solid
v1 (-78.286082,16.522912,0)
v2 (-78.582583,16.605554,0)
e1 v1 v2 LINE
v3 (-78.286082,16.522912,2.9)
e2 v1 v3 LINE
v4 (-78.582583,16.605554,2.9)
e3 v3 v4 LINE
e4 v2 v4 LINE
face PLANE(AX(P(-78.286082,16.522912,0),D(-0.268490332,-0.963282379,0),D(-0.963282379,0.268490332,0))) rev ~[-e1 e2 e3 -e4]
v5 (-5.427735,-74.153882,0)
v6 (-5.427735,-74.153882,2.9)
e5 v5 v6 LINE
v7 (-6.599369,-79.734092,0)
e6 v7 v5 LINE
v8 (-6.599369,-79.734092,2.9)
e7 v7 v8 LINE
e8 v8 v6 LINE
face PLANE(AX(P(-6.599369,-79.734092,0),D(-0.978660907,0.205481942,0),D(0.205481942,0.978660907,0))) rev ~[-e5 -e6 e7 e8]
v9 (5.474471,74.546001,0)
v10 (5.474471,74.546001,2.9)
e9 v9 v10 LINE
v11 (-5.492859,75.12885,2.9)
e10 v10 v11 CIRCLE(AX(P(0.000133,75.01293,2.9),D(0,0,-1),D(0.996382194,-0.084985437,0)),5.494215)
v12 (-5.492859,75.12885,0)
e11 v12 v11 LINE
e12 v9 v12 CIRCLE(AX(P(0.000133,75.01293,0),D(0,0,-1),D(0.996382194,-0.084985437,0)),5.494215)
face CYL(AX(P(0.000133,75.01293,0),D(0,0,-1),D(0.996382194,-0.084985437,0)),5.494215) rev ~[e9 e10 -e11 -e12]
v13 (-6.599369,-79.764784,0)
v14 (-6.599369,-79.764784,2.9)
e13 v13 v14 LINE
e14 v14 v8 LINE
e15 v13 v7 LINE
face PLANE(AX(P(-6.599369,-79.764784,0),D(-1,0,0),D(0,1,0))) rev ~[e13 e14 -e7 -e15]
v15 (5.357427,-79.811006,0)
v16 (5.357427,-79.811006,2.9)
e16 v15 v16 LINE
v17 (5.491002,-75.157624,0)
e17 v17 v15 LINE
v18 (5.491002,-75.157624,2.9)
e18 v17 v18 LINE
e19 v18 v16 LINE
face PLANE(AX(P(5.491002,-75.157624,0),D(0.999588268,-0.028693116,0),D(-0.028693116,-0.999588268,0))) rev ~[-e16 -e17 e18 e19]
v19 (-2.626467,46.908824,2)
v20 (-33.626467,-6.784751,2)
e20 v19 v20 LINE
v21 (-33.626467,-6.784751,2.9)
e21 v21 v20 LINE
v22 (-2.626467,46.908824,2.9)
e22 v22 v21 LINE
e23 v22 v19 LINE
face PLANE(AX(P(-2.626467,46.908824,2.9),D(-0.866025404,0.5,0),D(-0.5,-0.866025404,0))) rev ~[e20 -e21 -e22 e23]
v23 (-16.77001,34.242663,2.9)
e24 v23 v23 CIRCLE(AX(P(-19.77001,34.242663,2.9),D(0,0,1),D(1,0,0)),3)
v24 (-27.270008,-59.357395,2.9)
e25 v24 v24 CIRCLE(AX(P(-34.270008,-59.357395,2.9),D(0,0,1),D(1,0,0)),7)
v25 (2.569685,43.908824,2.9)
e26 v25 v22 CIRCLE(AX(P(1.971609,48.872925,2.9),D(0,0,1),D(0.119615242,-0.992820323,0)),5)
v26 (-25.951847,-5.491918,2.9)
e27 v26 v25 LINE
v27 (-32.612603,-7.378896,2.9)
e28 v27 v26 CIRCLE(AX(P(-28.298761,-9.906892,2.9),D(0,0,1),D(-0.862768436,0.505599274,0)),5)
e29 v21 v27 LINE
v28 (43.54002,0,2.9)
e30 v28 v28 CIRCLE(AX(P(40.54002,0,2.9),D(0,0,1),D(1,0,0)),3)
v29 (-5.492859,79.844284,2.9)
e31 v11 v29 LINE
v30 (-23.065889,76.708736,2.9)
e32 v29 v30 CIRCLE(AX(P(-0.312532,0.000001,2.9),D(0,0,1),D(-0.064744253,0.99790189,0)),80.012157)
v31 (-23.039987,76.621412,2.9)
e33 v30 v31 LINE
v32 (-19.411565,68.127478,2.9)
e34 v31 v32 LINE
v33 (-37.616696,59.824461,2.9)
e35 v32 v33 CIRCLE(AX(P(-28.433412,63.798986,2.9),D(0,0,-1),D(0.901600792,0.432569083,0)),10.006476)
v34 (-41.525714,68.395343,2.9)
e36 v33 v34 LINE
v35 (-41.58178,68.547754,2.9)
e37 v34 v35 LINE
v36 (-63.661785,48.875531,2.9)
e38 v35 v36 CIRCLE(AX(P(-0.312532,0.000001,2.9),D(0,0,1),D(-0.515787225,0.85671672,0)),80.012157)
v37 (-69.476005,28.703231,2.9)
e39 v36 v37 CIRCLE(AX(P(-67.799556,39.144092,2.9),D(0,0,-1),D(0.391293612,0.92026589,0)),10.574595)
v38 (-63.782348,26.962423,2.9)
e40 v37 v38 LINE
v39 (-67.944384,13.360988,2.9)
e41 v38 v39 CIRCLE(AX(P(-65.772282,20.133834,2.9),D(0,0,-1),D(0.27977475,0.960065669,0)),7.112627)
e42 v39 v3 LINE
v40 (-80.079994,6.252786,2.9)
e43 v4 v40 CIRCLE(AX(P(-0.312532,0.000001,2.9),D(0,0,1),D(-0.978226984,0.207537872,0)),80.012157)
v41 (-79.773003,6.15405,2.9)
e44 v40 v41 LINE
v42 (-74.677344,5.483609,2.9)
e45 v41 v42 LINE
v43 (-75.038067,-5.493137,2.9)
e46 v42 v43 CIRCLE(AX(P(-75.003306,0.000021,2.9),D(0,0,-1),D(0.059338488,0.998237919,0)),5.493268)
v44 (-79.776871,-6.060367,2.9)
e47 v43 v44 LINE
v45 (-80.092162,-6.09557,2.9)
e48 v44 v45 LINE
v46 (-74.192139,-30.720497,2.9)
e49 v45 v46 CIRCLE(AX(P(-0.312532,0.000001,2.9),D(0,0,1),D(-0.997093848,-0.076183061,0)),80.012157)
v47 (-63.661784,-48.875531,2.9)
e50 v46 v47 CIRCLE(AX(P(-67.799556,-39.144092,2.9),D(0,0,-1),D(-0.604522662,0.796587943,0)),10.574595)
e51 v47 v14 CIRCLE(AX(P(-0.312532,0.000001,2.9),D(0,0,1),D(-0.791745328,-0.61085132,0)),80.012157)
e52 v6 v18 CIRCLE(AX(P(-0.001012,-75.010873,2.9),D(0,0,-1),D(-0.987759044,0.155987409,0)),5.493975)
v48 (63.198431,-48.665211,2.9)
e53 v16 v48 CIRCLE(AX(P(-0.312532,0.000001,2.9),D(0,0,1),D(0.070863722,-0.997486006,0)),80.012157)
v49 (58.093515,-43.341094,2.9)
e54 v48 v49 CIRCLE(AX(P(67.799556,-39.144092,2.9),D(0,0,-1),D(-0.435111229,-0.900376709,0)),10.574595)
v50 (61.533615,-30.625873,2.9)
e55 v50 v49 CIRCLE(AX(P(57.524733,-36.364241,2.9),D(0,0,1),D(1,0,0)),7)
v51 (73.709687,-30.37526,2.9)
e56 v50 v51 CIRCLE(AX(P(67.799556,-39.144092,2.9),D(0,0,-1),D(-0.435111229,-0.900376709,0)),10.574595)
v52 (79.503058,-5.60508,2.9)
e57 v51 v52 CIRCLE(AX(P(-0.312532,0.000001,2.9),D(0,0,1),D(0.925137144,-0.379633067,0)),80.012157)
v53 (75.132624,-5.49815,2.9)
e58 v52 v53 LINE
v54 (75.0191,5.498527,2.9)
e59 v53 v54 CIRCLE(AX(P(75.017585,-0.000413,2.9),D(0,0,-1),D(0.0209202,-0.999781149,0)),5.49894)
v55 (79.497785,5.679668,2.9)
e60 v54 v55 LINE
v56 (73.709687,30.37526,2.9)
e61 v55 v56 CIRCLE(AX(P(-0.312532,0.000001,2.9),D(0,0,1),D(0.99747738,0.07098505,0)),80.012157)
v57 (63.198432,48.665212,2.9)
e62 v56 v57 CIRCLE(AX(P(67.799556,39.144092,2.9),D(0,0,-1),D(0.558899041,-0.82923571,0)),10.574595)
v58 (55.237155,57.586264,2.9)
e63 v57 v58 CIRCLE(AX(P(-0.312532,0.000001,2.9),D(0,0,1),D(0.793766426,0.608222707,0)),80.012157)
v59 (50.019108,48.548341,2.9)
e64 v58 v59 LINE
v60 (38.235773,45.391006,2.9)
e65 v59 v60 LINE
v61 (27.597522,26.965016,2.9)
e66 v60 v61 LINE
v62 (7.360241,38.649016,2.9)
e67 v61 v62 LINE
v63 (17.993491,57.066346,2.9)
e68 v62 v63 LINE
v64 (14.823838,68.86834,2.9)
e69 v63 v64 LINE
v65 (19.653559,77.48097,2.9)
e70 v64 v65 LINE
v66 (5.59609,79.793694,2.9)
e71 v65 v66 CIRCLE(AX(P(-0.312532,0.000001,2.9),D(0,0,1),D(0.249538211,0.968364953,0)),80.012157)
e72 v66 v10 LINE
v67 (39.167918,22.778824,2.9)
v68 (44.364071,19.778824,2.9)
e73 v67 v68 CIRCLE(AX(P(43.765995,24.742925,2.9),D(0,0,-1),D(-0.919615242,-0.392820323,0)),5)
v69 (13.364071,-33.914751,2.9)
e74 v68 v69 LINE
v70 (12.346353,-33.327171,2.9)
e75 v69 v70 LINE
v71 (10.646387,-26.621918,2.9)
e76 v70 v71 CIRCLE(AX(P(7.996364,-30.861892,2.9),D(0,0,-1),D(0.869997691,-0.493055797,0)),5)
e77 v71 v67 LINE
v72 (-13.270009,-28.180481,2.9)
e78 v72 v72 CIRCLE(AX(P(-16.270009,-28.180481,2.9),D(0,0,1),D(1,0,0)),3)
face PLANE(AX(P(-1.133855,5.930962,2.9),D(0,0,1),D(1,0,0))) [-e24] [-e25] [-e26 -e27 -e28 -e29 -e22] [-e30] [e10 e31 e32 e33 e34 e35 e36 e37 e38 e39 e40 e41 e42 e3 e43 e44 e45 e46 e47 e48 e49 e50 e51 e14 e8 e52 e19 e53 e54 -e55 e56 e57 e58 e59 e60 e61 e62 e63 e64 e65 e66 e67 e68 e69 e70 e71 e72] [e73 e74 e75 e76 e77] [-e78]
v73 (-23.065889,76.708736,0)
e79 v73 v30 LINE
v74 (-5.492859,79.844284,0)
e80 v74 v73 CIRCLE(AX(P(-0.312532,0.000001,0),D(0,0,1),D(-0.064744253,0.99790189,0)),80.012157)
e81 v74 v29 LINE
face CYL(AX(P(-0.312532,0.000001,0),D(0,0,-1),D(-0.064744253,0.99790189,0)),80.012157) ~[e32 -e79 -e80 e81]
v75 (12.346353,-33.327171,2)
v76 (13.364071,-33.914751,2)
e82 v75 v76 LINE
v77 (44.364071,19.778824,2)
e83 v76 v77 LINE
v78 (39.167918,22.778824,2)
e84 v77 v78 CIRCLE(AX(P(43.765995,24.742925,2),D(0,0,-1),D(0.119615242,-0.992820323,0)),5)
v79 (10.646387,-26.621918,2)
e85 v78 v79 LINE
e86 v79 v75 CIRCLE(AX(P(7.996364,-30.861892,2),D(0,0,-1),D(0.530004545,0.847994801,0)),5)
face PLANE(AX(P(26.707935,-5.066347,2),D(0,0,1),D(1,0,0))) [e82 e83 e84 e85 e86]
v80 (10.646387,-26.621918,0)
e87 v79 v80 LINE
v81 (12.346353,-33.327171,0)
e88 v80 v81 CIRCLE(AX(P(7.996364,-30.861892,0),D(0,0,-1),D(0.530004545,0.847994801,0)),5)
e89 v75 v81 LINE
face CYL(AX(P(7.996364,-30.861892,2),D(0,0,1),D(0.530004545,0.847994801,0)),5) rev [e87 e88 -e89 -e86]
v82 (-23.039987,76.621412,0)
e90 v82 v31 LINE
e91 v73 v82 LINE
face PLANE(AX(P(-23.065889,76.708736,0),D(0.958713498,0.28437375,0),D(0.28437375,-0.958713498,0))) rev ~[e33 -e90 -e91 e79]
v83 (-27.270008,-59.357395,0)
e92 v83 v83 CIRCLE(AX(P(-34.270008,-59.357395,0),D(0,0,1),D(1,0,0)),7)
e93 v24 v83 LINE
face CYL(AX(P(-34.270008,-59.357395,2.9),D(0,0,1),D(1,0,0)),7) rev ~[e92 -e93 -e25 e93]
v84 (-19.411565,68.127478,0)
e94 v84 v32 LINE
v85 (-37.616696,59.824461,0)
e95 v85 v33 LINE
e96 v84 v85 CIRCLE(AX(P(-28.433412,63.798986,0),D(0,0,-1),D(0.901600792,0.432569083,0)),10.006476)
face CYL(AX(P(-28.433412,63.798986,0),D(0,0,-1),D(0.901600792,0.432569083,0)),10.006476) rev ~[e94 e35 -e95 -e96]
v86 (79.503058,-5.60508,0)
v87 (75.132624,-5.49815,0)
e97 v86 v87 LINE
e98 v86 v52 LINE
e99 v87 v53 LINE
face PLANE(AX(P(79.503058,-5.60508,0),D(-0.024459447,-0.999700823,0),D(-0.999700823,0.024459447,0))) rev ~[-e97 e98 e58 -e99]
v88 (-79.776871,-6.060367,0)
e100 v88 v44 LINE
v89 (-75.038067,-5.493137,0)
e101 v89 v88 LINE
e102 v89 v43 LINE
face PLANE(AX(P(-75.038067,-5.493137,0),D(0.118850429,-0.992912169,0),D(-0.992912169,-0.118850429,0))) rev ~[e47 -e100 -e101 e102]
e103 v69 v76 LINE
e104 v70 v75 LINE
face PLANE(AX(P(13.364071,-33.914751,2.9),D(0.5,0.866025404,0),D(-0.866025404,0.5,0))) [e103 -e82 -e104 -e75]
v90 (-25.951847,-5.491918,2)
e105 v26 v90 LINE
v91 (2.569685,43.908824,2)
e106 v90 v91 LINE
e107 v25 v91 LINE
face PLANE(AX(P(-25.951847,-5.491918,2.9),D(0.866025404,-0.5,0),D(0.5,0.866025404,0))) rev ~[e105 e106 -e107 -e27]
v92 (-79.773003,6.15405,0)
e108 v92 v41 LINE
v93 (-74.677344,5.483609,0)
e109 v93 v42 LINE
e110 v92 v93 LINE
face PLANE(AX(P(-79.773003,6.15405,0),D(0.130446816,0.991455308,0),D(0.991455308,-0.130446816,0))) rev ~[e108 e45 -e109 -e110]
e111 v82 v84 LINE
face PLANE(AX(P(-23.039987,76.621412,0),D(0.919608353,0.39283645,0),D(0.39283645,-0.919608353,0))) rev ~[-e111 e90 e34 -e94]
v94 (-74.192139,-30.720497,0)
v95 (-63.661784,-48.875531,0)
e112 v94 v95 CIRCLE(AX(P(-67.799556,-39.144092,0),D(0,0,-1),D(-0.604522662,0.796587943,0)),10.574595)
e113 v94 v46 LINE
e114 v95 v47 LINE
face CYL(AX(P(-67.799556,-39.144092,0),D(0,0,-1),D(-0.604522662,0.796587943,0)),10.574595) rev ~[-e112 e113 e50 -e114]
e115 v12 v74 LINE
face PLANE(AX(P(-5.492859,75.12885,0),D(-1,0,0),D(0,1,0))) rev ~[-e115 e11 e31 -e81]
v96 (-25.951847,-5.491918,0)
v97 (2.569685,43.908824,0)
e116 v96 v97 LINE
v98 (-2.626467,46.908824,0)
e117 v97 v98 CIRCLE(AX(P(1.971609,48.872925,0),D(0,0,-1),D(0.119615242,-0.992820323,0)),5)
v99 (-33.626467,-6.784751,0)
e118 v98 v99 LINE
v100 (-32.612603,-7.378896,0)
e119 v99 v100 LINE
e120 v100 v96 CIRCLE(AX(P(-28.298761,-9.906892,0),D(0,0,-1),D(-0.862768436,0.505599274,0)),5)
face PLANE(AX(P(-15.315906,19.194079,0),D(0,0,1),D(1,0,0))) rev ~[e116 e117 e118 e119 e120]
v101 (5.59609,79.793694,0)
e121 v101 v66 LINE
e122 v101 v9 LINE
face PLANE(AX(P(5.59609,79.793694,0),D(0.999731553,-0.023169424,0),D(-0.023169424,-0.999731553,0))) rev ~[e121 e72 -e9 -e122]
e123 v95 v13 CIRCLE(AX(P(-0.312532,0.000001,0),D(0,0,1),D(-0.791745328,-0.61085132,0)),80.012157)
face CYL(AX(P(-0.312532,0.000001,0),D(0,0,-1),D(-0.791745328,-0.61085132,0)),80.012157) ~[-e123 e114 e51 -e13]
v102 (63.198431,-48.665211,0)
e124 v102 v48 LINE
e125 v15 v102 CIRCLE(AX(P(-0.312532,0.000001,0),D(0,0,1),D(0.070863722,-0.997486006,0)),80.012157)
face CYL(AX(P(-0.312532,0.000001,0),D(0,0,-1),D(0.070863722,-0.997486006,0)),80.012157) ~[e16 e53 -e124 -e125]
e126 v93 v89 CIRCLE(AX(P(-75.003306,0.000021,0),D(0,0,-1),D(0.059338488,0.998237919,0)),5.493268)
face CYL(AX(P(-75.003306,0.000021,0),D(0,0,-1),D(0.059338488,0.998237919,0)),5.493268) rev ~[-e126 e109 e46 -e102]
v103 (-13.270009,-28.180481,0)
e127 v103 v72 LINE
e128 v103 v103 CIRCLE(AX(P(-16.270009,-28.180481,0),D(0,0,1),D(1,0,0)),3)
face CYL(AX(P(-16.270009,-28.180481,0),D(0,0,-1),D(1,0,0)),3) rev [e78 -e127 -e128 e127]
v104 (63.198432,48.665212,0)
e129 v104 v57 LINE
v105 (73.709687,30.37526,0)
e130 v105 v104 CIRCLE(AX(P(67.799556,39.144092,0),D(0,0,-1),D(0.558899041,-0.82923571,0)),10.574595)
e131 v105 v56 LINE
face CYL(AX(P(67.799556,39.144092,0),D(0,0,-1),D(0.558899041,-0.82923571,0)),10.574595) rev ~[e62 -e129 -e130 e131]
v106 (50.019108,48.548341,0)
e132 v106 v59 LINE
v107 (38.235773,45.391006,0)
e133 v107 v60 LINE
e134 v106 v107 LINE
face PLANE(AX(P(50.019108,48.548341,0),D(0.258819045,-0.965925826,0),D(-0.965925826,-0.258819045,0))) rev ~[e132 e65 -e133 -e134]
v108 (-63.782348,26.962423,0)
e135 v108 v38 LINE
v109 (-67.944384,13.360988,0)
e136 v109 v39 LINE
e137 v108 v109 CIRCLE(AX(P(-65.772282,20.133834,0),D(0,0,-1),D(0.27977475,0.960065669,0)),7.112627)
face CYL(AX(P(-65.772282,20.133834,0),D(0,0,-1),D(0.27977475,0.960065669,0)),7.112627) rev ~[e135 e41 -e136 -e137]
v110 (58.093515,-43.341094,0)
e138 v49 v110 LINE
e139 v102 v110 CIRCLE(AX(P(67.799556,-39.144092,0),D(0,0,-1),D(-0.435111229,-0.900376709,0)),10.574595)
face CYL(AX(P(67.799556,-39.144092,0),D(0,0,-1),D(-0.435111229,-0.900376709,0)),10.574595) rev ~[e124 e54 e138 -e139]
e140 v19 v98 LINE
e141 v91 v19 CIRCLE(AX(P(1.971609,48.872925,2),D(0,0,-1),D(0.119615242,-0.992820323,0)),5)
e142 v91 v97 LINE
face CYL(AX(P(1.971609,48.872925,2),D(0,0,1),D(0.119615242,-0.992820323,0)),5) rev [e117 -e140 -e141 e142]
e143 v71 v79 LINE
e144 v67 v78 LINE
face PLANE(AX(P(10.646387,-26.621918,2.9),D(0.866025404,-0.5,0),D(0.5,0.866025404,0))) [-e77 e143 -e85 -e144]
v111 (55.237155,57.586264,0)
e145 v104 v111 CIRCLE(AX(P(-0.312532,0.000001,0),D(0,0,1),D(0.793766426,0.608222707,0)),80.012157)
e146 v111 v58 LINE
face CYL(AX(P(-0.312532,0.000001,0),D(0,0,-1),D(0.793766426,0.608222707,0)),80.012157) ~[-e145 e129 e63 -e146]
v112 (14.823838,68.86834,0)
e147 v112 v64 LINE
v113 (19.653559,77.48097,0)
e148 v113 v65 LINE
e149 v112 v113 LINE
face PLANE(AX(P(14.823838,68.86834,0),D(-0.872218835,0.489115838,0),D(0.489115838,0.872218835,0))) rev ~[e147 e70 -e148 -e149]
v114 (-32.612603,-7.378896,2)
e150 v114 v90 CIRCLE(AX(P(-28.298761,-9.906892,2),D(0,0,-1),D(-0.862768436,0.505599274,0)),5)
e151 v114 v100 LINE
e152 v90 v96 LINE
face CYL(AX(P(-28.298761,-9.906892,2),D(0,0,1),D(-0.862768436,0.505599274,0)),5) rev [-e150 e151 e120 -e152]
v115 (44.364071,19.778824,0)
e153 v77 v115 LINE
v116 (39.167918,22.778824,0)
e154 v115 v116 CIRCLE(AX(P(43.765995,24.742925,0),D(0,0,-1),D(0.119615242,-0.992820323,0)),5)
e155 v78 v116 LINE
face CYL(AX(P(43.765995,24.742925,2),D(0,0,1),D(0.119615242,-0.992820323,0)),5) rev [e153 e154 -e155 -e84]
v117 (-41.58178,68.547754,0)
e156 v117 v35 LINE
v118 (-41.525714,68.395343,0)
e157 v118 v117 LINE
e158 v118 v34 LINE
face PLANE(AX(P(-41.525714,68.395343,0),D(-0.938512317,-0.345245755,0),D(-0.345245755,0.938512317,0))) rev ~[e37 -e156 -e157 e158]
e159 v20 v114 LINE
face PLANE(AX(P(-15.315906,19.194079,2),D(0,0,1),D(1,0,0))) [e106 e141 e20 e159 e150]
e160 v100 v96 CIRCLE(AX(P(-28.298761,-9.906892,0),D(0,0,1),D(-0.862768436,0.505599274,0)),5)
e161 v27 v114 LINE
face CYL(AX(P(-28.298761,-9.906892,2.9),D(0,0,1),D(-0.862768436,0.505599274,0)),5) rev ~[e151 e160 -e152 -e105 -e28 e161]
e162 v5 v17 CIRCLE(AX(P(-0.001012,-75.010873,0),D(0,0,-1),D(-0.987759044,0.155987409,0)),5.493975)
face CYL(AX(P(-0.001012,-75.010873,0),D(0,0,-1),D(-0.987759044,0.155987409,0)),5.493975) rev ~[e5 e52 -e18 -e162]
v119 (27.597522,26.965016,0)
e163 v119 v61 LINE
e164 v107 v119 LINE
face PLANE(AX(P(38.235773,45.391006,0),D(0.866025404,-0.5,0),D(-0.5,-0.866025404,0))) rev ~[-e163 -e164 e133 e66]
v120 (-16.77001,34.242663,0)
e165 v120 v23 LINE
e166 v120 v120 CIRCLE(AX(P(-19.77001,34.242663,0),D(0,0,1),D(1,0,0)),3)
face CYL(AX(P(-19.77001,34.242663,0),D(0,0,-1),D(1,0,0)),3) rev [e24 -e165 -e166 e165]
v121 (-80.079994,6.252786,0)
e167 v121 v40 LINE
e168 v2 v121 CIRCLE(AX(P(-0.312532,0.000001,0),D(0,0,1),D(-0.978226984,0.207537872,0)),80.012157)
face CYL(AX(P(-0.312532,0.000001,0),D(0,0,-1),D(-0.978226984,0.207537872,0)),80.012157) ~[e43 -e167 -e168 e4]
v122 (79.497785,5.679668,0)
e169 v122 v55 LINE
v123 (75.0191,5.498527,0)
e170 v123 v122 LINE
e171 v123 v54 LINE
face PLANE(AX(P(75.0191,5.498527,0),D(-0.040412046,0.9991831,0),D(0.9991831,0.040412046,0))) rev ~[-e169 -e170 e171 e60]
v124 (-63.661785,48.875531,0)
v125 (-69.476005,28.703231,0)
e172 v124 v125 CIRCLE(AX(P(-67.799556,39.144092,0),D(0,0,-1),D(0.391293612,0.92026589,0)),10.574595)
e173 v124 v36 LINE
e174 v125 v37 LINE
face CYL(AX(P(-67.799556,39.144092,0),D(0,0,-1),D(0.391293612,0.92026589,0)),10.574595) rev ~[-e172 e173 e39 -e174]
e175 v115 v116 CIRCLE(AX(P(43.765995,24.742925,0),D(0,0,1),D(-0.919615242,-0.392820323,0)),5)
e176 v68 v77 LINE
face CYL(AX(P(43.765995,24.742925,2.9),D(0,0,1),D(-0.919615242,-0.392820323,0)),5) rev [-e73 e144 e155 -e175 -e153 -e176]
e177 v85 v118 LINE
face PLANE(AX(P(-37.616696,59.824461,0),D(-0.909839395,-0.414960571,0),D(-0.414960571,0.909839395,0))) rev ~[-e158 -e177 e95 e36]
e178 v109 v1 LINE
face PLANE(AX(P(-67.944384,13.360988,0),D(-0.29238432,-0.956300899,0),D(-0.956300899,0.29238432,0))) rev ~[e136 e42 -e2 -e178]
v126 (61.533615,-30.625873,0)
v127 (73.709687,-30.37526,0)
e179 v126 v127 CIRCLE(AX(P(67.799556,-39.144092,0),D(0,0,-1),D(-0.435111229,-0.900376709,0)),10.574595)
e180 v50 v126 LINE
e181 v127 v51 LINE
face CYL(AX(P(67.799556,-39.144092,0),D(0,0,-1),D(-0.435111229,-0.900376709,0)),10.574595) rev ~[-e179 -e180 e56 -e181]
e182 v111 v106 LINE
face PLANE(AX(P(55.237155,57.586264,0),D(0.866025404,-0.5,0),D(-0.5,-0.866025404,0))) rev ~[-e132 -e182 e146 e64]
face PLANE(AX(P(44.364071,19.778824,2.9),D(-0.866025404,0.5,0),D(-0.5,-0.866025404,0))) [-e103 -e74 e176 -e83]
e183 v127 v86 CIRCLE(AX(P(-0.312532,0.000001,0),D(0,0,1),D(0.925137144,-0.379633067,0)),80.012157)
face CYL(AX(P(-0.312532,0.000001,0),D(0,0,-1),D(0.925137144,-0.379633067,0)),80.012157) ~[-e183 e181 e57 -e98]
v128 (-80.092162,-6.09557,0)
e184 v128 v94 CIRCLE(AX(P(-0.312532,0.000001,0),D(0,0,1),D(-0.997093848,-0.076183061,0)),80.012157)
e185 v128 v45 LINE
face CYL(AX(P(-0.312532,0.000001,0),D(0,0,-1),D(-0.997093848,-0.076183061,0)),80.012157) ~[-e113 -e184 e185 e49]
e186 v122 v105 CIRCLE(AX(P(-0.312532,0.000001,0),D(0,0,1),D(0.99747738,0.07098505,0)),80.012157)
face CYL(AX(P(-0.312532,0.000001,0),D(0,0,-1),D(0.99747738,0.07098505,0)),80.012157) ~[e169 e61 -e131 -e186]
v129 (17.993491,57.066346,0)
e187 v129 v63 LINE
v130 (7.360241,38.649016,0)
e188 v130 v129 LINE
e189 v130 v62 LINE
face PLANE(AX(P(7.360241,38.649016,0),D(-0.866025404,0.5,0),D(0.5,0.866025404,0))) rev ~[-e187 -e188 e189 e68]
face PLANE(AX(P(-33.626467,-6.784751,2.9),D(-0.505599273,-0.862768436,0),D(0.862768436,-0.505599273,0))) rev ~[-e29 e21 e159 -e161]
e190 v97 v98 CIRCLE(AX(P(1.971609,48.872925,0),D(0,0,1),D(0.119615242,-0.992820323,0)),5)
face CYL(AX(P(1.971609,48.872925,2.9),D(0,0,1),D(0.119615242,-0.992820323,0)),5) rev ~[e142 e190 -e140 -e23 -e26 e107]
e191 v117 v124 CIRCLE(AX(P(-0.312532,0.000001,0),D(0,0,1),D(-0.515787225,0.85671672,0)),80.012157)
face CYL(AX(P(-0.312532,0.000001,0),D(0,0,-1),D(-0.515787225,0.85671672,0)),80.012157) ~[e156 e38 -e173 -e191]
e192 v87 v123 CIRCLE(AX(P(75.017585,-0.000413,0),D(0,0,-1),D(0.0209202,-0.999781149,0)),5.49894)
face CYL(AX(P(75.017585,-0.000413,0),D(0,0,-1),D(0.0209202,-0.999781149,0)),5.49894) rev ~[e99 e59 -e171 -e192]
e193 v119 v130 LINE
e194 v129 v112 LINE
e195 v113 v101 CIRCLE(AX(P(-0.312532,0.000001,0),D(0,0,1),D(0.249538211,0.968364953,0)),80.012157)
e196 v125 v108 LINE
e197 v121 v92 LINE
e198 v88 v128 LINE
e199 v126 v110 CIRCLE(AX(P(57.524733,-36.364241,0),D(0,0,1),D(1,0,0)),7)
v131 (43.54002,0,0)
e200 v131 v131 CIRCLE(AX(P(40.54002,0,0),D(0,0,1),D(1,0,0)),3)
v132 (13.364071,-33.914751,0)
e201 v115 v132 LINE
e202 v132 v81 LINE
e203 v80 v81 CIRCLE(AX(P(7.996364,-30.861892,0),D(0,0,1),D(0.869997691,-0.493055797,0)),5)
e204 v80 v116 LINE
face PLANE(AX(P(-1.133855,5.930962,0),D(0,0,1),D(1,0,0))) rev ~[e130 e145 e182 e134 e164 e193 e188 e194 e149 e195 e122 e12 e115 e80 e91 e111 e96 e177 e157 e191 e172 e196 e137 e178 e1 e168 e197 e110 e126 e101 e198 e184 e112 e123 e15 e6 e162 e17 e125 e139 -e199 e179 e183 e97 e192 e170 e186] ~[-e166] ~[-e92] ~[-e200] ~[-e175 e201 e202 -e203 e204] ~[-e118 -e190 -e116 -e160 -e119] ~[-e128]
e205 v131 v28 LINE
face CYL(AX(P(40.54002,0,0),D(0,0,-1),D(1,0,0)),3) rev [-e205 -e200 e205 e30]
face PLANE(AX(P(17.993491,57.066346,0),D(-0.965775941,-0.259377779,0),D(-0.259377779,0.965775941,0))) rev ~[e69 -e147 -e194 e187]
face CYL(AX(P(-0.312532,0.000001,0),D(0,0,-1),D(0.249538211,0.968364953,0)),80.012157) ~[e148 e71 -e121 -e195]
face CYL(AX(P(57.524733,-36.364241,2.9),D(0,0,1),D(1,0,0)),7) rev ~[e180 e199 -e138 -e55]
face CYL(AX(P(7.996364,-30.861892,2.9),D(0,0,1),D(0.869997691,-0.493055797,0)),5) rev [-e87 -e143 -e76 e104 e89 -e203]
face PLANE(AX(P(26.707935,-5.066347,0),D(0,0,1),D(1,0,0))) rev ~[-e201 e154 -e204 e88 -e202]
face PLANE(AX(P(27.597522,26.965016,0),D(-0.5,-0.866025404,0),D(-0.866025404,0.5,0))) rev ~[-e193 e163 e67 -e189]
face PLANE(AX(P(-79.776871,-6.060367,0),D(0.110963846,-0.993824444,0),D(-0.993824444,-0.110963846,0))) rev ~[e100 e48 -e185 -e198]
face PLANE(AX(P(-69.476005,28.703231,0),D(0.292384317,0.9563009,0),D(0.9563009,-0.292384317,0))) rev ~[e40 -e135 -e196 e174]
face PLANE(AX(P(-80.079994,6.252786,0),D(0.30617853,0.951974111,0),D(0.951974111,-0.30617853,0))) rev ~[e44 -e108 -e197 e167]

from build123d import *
from build123d.topology import SkipClean

# Parameters (mm, degrees)
SZKIC1_R                    = 3
DODANIE_WYCI_GNI_CIE1_DEPTH = 2.9
CUT_EXTRUDE1_DEPTH          = 114.129457027
BOSS_EXTRUDE1_START         = -2
BOSS_EXTRUDE1_DEPTH         = 2
SKETCH4_R                   = 7
CUT_EXTRUDE2_DEPTH          = 114.129457027


with BuildPart() as part:
    # Szkic1 → Dodanie-wyciągnięcie1 (new body)
    with BuildSketch(Plane.XY):
        with BuildLine():
            Line((5.59608992, 79.7936944), (5.474471245, 74.546001301))
            ThreePointArc((5.474471245, 74.546001301), (-0.291440696, 69.526456585), (-5.49285922, 75.12885027))
            Line((-5.49285922, 75.12885027), (-5.49285922, 79.844283988))
            ThreePointArc((-5.49285922, 79.844283988), (-14.367089706, 78.768108258), (-23.065888919, 76.708736224))
            Line((-23.065888919, 76.708736224), (-23.039986666, 76.621411569))
            Line((-23.039986666, 76.621411569), (-19.411565048, 68.127477703))
            ThreePointArc((-19.411565048, 68.127477703), (-24.281118736, 54.694699487), (-37.616696357, 59.824461002))
            Line((-37.616696357, 59.824461002), (-41.525713683, 68.39534268))
            Line((-41.525713683, 68.39534268), (-41.581780451, 68.547753974))
            ThreePointArc((-41.581780451, 68.547753974), (-53.538529253, 59.740594559), (-63.661784759, 48.875531428))
            ThreePointArc((-63.661784759, 48.875531428), (-57.63860389, 36.215421703), (-69.476005411, 28.703230861))
            Line((-69.476005411, 28.703230861), (-63.782348494, 26.96242314))
            ThreePointArc((-63.782348494, 26.96242314), (-58.970954639, 18.052629351), (-67.944384326, 13.360988291))
            Line((-67.944384326, 13.360988291), (-78.286081853, 16.522911699))
            Line((-78.286081853, 16.522911699), (-78.582583175, 16.605553861))
            ThreePointArc((-78.582583175, 16.605553861), (-79.500655067, 11.453666872), (-80.079993893, 6.252785978))
            Line((-80.079993893, 6.252785978), (-79.77300326, 6.154050162))
            Line((-79.77300326, 6.154050162), (-74.677344042, 5.483608926))
            ThreePointArc((-74.677344042, 5.483608926), (-69.513002092, -0.180404237), (-75.038066691, -5.493137439))
            Line((-75.038066691, -5.493137439), (-79.77687053, -6.060366735))
            Line((-79.77687053, -6.060366735), (-80.092161675, -6.095570053))
            ThreePointArc((-80.092161675, -6.095570053), (-78.122473499, -18.642914619), (-74.192138812, -30.72049701))
            ThreePointArc((-74.192138812, -30.72049701), (-58.652296854, -33.838462178), (-63.661783627, -48.875530946))
            ThreePointArc((-63.661783627, -48.875530946), (-38.402330015, -70.364141863), (-6.599369234, -79.764784472))
            Line((-6.599369234, -79.764784472), (-6.599369234, -79.734091682))
            Line((-6.599369234, -79.734091682), (-5.427735296, -74.153881943))
            ThreePointArc((-5.427735296, -74.153881943), (0.501919726, -69.539966289), (5.491002421, -75.157624183))
            Line((5.491002421, -75.157624183), (5.357427391, -79.811006311))
            ThreePointArc((5.357427391, -79.811006311), (37.621821152, -70.448066311), (63.198431202, -48.665211389))
            ThreePointArc((63.198431202, -48.665211389), (58.631189133, -33.87502124), (73.70968686, -30.375259673))
            ThreePointArc((73.70968686, -30.375259673), (77.597084263, -18.221882556), (79.503058016, -5.605080347))
            Line((79.503058016, -5.605080347), (75.132623878, -5.498149954))
            ThreePointArc((75.132623878, -5.498149954), (69.518937549, -0.057178034), (75.019100209, 5.498527174))
            Line((75.019100209, 5.498527174), (79.497785184, 5.679667972))
            ThreePointArc((79.497785184, 5.679667972), (77.588561718, 18.258285206), (73.709687487, 30.375260095))
            ThreePointArc((73.709687487, 30.375260095), (58.631189019, 33.875021437), (63.198432292, 48.665211915))
            ThreePointArc((63.198432292, 48.665211915), (59.384670175, 53.274660922), (55.237154752, 57.586263576))
            Line((55.237154752, 57.586263576), (50.019107731, 48.548341019))
            Line((50.019107731, 48.548341019), (38.235772571, 45.391005879))
            Line((38.235772571, 45.391005879), (27.597522321, 26.965015942))
            Line((27.597522321, 26.965015942), (7.360240685, 38.649015942))
            Line((7.360240685, 38.649015942), (17.993490945, 57.066345642))
            Line((17.993490945, 57.066345642), (14.823837521, 68.868339749))
            Line((14.823837521, 68.868339749), (19.653558746, 77.480969916))
            ThreePointArc((19.653558746, 77.480969916), (12.67640031, 78.950827209), (5.59608992, 79.7936944))
        make_face()
        with Locations((-16.270008662, -28.180480518)):
            Circle(SZKIC1_R, mode=Mode.SUBTRACT)
        with Locations((40.540020027, 1.11e-07)):
            Circle(SZKIC1_R, mode=Mode.SUBTRACT)
        with Locations((-19.770010135, 34.242663145)):
            Circle(SZKIC1_R, mode=Mode.SUBTRACT)
    extrude(amount=DODANIE_WYCI_GNI_CIE1_DEPTH)

    # Sketch2 → Cut-Extrude1 (cut, through all)
    with BuildSketch(Plane.XY.offset(2.9)):
        with BuildLine():
            Line((44.364070916, 19.778823857), (13.364070916, -33.914751178))
            Line((13.364070916, -33.914751178), (12.3463525, -33.327171176))
            ThreePointArc((12.3463525, -33.327171176), (3.149700914, -32.090654364), (10.646386774, -26.62191819))
            Line((10.646386774, -26.62191819), (39.167918493, 22.778823857))
            ThreePointArc((39.167918493, 22.778823857), (46.265994705, 29.073052491), (44.364070916, 19.778823857))
        make_face()
        with BuildLine():
            Line((-33.626467493, -6.784751178), (-32.612602806, -7.378895826))
            ThreePointArc((-32.612602806, -7.378895826), (-26.935905927, -14.717570636), (-25.95184679, -5.49191819))
            Line((-25.95184679, -5.49191819), (2.569684929, 43.908823857))
            ThreePointArc((2.569684929, 43.908823857), (4.471608718, 53.203052491), (-2.626467493, 46.908823857))
            Line((-2.626467493, 46.908823857), (-33.626467493, -6.784751178))
        make_face()
    extrude(amount=-CUT_EXTRUDE1_DEPTH, mode=Mode.SUBTRACT)

    # Sketch3 → Boss-Extrude1 (add)
    with SkipClean():  # the faces are left unmerged after this step: merging them gives an invalid solid
        with BuildSketch(Plane(origin=(0, 0, 0), x_dir=(-1, 0, 0), z_dir=(0, 0, -1)).offset(BOSS_EXTRUDE1_START)):
            with BuildLine():
                Line((2.626467493, 46.908823857), (33.626467493, -6.784751178))
                Line((33.626467493, -6.784751178), (32.612602806, -7.378895826))
                ThreePointArc((32.612602806, -7.378895826), (29.661615324, -5.096213752), (25.95184679, -5.49191819))
                Line((25.95184679, -5.49191819), (-2.569684929, 43.908823857))
                ThreePointArc((-2.569684929, 43.908823857), (0.528391282, 44.542798453), (2.626467493, 46.908823857))
            make_face()
            with BuildLine():
                Line((-39.167918493, 22.778823857), (-10.646386774, -26.62191819))
                ThreePointArc((-10.646386774, -26.62191819), (-12.843027181, -29.633130023), (-12.3463525, -33.327171176))
                Line((-12.3463525, -33.327171176), (-13.364070916, -33.914751178))
                Line((-13.364070916, -33.914751178), (-44.364070916, 19.778823857))
                ThreePointArc((-44.364070916, 19.778823857), (-41.265994705, 20.412798453), (-39.167918493, 22.778823857))
            make_face()
        extrude(amount=BOSS_EXTRUDE1_DEPTH)

    # Sketch4 → Cut-Extrude2 (cut, through all)
    with SkipClean():  # the faces are left unmerged after this step: merging them gives an invalid solid
        with BuildSketch(Plane.XY.offset(2.9)):
            with Locations((-34.270008175, -59.357395336)):
                Circle(SKETCH4_R)
            with Locations((57.524732512, -36.364240597)):
                Circle(SKETCH4_R)
        extrude(amount=-CUT_EXTRUDE2_DEPTH, mode=Mode.SUBTRACT)


solid = part.part
